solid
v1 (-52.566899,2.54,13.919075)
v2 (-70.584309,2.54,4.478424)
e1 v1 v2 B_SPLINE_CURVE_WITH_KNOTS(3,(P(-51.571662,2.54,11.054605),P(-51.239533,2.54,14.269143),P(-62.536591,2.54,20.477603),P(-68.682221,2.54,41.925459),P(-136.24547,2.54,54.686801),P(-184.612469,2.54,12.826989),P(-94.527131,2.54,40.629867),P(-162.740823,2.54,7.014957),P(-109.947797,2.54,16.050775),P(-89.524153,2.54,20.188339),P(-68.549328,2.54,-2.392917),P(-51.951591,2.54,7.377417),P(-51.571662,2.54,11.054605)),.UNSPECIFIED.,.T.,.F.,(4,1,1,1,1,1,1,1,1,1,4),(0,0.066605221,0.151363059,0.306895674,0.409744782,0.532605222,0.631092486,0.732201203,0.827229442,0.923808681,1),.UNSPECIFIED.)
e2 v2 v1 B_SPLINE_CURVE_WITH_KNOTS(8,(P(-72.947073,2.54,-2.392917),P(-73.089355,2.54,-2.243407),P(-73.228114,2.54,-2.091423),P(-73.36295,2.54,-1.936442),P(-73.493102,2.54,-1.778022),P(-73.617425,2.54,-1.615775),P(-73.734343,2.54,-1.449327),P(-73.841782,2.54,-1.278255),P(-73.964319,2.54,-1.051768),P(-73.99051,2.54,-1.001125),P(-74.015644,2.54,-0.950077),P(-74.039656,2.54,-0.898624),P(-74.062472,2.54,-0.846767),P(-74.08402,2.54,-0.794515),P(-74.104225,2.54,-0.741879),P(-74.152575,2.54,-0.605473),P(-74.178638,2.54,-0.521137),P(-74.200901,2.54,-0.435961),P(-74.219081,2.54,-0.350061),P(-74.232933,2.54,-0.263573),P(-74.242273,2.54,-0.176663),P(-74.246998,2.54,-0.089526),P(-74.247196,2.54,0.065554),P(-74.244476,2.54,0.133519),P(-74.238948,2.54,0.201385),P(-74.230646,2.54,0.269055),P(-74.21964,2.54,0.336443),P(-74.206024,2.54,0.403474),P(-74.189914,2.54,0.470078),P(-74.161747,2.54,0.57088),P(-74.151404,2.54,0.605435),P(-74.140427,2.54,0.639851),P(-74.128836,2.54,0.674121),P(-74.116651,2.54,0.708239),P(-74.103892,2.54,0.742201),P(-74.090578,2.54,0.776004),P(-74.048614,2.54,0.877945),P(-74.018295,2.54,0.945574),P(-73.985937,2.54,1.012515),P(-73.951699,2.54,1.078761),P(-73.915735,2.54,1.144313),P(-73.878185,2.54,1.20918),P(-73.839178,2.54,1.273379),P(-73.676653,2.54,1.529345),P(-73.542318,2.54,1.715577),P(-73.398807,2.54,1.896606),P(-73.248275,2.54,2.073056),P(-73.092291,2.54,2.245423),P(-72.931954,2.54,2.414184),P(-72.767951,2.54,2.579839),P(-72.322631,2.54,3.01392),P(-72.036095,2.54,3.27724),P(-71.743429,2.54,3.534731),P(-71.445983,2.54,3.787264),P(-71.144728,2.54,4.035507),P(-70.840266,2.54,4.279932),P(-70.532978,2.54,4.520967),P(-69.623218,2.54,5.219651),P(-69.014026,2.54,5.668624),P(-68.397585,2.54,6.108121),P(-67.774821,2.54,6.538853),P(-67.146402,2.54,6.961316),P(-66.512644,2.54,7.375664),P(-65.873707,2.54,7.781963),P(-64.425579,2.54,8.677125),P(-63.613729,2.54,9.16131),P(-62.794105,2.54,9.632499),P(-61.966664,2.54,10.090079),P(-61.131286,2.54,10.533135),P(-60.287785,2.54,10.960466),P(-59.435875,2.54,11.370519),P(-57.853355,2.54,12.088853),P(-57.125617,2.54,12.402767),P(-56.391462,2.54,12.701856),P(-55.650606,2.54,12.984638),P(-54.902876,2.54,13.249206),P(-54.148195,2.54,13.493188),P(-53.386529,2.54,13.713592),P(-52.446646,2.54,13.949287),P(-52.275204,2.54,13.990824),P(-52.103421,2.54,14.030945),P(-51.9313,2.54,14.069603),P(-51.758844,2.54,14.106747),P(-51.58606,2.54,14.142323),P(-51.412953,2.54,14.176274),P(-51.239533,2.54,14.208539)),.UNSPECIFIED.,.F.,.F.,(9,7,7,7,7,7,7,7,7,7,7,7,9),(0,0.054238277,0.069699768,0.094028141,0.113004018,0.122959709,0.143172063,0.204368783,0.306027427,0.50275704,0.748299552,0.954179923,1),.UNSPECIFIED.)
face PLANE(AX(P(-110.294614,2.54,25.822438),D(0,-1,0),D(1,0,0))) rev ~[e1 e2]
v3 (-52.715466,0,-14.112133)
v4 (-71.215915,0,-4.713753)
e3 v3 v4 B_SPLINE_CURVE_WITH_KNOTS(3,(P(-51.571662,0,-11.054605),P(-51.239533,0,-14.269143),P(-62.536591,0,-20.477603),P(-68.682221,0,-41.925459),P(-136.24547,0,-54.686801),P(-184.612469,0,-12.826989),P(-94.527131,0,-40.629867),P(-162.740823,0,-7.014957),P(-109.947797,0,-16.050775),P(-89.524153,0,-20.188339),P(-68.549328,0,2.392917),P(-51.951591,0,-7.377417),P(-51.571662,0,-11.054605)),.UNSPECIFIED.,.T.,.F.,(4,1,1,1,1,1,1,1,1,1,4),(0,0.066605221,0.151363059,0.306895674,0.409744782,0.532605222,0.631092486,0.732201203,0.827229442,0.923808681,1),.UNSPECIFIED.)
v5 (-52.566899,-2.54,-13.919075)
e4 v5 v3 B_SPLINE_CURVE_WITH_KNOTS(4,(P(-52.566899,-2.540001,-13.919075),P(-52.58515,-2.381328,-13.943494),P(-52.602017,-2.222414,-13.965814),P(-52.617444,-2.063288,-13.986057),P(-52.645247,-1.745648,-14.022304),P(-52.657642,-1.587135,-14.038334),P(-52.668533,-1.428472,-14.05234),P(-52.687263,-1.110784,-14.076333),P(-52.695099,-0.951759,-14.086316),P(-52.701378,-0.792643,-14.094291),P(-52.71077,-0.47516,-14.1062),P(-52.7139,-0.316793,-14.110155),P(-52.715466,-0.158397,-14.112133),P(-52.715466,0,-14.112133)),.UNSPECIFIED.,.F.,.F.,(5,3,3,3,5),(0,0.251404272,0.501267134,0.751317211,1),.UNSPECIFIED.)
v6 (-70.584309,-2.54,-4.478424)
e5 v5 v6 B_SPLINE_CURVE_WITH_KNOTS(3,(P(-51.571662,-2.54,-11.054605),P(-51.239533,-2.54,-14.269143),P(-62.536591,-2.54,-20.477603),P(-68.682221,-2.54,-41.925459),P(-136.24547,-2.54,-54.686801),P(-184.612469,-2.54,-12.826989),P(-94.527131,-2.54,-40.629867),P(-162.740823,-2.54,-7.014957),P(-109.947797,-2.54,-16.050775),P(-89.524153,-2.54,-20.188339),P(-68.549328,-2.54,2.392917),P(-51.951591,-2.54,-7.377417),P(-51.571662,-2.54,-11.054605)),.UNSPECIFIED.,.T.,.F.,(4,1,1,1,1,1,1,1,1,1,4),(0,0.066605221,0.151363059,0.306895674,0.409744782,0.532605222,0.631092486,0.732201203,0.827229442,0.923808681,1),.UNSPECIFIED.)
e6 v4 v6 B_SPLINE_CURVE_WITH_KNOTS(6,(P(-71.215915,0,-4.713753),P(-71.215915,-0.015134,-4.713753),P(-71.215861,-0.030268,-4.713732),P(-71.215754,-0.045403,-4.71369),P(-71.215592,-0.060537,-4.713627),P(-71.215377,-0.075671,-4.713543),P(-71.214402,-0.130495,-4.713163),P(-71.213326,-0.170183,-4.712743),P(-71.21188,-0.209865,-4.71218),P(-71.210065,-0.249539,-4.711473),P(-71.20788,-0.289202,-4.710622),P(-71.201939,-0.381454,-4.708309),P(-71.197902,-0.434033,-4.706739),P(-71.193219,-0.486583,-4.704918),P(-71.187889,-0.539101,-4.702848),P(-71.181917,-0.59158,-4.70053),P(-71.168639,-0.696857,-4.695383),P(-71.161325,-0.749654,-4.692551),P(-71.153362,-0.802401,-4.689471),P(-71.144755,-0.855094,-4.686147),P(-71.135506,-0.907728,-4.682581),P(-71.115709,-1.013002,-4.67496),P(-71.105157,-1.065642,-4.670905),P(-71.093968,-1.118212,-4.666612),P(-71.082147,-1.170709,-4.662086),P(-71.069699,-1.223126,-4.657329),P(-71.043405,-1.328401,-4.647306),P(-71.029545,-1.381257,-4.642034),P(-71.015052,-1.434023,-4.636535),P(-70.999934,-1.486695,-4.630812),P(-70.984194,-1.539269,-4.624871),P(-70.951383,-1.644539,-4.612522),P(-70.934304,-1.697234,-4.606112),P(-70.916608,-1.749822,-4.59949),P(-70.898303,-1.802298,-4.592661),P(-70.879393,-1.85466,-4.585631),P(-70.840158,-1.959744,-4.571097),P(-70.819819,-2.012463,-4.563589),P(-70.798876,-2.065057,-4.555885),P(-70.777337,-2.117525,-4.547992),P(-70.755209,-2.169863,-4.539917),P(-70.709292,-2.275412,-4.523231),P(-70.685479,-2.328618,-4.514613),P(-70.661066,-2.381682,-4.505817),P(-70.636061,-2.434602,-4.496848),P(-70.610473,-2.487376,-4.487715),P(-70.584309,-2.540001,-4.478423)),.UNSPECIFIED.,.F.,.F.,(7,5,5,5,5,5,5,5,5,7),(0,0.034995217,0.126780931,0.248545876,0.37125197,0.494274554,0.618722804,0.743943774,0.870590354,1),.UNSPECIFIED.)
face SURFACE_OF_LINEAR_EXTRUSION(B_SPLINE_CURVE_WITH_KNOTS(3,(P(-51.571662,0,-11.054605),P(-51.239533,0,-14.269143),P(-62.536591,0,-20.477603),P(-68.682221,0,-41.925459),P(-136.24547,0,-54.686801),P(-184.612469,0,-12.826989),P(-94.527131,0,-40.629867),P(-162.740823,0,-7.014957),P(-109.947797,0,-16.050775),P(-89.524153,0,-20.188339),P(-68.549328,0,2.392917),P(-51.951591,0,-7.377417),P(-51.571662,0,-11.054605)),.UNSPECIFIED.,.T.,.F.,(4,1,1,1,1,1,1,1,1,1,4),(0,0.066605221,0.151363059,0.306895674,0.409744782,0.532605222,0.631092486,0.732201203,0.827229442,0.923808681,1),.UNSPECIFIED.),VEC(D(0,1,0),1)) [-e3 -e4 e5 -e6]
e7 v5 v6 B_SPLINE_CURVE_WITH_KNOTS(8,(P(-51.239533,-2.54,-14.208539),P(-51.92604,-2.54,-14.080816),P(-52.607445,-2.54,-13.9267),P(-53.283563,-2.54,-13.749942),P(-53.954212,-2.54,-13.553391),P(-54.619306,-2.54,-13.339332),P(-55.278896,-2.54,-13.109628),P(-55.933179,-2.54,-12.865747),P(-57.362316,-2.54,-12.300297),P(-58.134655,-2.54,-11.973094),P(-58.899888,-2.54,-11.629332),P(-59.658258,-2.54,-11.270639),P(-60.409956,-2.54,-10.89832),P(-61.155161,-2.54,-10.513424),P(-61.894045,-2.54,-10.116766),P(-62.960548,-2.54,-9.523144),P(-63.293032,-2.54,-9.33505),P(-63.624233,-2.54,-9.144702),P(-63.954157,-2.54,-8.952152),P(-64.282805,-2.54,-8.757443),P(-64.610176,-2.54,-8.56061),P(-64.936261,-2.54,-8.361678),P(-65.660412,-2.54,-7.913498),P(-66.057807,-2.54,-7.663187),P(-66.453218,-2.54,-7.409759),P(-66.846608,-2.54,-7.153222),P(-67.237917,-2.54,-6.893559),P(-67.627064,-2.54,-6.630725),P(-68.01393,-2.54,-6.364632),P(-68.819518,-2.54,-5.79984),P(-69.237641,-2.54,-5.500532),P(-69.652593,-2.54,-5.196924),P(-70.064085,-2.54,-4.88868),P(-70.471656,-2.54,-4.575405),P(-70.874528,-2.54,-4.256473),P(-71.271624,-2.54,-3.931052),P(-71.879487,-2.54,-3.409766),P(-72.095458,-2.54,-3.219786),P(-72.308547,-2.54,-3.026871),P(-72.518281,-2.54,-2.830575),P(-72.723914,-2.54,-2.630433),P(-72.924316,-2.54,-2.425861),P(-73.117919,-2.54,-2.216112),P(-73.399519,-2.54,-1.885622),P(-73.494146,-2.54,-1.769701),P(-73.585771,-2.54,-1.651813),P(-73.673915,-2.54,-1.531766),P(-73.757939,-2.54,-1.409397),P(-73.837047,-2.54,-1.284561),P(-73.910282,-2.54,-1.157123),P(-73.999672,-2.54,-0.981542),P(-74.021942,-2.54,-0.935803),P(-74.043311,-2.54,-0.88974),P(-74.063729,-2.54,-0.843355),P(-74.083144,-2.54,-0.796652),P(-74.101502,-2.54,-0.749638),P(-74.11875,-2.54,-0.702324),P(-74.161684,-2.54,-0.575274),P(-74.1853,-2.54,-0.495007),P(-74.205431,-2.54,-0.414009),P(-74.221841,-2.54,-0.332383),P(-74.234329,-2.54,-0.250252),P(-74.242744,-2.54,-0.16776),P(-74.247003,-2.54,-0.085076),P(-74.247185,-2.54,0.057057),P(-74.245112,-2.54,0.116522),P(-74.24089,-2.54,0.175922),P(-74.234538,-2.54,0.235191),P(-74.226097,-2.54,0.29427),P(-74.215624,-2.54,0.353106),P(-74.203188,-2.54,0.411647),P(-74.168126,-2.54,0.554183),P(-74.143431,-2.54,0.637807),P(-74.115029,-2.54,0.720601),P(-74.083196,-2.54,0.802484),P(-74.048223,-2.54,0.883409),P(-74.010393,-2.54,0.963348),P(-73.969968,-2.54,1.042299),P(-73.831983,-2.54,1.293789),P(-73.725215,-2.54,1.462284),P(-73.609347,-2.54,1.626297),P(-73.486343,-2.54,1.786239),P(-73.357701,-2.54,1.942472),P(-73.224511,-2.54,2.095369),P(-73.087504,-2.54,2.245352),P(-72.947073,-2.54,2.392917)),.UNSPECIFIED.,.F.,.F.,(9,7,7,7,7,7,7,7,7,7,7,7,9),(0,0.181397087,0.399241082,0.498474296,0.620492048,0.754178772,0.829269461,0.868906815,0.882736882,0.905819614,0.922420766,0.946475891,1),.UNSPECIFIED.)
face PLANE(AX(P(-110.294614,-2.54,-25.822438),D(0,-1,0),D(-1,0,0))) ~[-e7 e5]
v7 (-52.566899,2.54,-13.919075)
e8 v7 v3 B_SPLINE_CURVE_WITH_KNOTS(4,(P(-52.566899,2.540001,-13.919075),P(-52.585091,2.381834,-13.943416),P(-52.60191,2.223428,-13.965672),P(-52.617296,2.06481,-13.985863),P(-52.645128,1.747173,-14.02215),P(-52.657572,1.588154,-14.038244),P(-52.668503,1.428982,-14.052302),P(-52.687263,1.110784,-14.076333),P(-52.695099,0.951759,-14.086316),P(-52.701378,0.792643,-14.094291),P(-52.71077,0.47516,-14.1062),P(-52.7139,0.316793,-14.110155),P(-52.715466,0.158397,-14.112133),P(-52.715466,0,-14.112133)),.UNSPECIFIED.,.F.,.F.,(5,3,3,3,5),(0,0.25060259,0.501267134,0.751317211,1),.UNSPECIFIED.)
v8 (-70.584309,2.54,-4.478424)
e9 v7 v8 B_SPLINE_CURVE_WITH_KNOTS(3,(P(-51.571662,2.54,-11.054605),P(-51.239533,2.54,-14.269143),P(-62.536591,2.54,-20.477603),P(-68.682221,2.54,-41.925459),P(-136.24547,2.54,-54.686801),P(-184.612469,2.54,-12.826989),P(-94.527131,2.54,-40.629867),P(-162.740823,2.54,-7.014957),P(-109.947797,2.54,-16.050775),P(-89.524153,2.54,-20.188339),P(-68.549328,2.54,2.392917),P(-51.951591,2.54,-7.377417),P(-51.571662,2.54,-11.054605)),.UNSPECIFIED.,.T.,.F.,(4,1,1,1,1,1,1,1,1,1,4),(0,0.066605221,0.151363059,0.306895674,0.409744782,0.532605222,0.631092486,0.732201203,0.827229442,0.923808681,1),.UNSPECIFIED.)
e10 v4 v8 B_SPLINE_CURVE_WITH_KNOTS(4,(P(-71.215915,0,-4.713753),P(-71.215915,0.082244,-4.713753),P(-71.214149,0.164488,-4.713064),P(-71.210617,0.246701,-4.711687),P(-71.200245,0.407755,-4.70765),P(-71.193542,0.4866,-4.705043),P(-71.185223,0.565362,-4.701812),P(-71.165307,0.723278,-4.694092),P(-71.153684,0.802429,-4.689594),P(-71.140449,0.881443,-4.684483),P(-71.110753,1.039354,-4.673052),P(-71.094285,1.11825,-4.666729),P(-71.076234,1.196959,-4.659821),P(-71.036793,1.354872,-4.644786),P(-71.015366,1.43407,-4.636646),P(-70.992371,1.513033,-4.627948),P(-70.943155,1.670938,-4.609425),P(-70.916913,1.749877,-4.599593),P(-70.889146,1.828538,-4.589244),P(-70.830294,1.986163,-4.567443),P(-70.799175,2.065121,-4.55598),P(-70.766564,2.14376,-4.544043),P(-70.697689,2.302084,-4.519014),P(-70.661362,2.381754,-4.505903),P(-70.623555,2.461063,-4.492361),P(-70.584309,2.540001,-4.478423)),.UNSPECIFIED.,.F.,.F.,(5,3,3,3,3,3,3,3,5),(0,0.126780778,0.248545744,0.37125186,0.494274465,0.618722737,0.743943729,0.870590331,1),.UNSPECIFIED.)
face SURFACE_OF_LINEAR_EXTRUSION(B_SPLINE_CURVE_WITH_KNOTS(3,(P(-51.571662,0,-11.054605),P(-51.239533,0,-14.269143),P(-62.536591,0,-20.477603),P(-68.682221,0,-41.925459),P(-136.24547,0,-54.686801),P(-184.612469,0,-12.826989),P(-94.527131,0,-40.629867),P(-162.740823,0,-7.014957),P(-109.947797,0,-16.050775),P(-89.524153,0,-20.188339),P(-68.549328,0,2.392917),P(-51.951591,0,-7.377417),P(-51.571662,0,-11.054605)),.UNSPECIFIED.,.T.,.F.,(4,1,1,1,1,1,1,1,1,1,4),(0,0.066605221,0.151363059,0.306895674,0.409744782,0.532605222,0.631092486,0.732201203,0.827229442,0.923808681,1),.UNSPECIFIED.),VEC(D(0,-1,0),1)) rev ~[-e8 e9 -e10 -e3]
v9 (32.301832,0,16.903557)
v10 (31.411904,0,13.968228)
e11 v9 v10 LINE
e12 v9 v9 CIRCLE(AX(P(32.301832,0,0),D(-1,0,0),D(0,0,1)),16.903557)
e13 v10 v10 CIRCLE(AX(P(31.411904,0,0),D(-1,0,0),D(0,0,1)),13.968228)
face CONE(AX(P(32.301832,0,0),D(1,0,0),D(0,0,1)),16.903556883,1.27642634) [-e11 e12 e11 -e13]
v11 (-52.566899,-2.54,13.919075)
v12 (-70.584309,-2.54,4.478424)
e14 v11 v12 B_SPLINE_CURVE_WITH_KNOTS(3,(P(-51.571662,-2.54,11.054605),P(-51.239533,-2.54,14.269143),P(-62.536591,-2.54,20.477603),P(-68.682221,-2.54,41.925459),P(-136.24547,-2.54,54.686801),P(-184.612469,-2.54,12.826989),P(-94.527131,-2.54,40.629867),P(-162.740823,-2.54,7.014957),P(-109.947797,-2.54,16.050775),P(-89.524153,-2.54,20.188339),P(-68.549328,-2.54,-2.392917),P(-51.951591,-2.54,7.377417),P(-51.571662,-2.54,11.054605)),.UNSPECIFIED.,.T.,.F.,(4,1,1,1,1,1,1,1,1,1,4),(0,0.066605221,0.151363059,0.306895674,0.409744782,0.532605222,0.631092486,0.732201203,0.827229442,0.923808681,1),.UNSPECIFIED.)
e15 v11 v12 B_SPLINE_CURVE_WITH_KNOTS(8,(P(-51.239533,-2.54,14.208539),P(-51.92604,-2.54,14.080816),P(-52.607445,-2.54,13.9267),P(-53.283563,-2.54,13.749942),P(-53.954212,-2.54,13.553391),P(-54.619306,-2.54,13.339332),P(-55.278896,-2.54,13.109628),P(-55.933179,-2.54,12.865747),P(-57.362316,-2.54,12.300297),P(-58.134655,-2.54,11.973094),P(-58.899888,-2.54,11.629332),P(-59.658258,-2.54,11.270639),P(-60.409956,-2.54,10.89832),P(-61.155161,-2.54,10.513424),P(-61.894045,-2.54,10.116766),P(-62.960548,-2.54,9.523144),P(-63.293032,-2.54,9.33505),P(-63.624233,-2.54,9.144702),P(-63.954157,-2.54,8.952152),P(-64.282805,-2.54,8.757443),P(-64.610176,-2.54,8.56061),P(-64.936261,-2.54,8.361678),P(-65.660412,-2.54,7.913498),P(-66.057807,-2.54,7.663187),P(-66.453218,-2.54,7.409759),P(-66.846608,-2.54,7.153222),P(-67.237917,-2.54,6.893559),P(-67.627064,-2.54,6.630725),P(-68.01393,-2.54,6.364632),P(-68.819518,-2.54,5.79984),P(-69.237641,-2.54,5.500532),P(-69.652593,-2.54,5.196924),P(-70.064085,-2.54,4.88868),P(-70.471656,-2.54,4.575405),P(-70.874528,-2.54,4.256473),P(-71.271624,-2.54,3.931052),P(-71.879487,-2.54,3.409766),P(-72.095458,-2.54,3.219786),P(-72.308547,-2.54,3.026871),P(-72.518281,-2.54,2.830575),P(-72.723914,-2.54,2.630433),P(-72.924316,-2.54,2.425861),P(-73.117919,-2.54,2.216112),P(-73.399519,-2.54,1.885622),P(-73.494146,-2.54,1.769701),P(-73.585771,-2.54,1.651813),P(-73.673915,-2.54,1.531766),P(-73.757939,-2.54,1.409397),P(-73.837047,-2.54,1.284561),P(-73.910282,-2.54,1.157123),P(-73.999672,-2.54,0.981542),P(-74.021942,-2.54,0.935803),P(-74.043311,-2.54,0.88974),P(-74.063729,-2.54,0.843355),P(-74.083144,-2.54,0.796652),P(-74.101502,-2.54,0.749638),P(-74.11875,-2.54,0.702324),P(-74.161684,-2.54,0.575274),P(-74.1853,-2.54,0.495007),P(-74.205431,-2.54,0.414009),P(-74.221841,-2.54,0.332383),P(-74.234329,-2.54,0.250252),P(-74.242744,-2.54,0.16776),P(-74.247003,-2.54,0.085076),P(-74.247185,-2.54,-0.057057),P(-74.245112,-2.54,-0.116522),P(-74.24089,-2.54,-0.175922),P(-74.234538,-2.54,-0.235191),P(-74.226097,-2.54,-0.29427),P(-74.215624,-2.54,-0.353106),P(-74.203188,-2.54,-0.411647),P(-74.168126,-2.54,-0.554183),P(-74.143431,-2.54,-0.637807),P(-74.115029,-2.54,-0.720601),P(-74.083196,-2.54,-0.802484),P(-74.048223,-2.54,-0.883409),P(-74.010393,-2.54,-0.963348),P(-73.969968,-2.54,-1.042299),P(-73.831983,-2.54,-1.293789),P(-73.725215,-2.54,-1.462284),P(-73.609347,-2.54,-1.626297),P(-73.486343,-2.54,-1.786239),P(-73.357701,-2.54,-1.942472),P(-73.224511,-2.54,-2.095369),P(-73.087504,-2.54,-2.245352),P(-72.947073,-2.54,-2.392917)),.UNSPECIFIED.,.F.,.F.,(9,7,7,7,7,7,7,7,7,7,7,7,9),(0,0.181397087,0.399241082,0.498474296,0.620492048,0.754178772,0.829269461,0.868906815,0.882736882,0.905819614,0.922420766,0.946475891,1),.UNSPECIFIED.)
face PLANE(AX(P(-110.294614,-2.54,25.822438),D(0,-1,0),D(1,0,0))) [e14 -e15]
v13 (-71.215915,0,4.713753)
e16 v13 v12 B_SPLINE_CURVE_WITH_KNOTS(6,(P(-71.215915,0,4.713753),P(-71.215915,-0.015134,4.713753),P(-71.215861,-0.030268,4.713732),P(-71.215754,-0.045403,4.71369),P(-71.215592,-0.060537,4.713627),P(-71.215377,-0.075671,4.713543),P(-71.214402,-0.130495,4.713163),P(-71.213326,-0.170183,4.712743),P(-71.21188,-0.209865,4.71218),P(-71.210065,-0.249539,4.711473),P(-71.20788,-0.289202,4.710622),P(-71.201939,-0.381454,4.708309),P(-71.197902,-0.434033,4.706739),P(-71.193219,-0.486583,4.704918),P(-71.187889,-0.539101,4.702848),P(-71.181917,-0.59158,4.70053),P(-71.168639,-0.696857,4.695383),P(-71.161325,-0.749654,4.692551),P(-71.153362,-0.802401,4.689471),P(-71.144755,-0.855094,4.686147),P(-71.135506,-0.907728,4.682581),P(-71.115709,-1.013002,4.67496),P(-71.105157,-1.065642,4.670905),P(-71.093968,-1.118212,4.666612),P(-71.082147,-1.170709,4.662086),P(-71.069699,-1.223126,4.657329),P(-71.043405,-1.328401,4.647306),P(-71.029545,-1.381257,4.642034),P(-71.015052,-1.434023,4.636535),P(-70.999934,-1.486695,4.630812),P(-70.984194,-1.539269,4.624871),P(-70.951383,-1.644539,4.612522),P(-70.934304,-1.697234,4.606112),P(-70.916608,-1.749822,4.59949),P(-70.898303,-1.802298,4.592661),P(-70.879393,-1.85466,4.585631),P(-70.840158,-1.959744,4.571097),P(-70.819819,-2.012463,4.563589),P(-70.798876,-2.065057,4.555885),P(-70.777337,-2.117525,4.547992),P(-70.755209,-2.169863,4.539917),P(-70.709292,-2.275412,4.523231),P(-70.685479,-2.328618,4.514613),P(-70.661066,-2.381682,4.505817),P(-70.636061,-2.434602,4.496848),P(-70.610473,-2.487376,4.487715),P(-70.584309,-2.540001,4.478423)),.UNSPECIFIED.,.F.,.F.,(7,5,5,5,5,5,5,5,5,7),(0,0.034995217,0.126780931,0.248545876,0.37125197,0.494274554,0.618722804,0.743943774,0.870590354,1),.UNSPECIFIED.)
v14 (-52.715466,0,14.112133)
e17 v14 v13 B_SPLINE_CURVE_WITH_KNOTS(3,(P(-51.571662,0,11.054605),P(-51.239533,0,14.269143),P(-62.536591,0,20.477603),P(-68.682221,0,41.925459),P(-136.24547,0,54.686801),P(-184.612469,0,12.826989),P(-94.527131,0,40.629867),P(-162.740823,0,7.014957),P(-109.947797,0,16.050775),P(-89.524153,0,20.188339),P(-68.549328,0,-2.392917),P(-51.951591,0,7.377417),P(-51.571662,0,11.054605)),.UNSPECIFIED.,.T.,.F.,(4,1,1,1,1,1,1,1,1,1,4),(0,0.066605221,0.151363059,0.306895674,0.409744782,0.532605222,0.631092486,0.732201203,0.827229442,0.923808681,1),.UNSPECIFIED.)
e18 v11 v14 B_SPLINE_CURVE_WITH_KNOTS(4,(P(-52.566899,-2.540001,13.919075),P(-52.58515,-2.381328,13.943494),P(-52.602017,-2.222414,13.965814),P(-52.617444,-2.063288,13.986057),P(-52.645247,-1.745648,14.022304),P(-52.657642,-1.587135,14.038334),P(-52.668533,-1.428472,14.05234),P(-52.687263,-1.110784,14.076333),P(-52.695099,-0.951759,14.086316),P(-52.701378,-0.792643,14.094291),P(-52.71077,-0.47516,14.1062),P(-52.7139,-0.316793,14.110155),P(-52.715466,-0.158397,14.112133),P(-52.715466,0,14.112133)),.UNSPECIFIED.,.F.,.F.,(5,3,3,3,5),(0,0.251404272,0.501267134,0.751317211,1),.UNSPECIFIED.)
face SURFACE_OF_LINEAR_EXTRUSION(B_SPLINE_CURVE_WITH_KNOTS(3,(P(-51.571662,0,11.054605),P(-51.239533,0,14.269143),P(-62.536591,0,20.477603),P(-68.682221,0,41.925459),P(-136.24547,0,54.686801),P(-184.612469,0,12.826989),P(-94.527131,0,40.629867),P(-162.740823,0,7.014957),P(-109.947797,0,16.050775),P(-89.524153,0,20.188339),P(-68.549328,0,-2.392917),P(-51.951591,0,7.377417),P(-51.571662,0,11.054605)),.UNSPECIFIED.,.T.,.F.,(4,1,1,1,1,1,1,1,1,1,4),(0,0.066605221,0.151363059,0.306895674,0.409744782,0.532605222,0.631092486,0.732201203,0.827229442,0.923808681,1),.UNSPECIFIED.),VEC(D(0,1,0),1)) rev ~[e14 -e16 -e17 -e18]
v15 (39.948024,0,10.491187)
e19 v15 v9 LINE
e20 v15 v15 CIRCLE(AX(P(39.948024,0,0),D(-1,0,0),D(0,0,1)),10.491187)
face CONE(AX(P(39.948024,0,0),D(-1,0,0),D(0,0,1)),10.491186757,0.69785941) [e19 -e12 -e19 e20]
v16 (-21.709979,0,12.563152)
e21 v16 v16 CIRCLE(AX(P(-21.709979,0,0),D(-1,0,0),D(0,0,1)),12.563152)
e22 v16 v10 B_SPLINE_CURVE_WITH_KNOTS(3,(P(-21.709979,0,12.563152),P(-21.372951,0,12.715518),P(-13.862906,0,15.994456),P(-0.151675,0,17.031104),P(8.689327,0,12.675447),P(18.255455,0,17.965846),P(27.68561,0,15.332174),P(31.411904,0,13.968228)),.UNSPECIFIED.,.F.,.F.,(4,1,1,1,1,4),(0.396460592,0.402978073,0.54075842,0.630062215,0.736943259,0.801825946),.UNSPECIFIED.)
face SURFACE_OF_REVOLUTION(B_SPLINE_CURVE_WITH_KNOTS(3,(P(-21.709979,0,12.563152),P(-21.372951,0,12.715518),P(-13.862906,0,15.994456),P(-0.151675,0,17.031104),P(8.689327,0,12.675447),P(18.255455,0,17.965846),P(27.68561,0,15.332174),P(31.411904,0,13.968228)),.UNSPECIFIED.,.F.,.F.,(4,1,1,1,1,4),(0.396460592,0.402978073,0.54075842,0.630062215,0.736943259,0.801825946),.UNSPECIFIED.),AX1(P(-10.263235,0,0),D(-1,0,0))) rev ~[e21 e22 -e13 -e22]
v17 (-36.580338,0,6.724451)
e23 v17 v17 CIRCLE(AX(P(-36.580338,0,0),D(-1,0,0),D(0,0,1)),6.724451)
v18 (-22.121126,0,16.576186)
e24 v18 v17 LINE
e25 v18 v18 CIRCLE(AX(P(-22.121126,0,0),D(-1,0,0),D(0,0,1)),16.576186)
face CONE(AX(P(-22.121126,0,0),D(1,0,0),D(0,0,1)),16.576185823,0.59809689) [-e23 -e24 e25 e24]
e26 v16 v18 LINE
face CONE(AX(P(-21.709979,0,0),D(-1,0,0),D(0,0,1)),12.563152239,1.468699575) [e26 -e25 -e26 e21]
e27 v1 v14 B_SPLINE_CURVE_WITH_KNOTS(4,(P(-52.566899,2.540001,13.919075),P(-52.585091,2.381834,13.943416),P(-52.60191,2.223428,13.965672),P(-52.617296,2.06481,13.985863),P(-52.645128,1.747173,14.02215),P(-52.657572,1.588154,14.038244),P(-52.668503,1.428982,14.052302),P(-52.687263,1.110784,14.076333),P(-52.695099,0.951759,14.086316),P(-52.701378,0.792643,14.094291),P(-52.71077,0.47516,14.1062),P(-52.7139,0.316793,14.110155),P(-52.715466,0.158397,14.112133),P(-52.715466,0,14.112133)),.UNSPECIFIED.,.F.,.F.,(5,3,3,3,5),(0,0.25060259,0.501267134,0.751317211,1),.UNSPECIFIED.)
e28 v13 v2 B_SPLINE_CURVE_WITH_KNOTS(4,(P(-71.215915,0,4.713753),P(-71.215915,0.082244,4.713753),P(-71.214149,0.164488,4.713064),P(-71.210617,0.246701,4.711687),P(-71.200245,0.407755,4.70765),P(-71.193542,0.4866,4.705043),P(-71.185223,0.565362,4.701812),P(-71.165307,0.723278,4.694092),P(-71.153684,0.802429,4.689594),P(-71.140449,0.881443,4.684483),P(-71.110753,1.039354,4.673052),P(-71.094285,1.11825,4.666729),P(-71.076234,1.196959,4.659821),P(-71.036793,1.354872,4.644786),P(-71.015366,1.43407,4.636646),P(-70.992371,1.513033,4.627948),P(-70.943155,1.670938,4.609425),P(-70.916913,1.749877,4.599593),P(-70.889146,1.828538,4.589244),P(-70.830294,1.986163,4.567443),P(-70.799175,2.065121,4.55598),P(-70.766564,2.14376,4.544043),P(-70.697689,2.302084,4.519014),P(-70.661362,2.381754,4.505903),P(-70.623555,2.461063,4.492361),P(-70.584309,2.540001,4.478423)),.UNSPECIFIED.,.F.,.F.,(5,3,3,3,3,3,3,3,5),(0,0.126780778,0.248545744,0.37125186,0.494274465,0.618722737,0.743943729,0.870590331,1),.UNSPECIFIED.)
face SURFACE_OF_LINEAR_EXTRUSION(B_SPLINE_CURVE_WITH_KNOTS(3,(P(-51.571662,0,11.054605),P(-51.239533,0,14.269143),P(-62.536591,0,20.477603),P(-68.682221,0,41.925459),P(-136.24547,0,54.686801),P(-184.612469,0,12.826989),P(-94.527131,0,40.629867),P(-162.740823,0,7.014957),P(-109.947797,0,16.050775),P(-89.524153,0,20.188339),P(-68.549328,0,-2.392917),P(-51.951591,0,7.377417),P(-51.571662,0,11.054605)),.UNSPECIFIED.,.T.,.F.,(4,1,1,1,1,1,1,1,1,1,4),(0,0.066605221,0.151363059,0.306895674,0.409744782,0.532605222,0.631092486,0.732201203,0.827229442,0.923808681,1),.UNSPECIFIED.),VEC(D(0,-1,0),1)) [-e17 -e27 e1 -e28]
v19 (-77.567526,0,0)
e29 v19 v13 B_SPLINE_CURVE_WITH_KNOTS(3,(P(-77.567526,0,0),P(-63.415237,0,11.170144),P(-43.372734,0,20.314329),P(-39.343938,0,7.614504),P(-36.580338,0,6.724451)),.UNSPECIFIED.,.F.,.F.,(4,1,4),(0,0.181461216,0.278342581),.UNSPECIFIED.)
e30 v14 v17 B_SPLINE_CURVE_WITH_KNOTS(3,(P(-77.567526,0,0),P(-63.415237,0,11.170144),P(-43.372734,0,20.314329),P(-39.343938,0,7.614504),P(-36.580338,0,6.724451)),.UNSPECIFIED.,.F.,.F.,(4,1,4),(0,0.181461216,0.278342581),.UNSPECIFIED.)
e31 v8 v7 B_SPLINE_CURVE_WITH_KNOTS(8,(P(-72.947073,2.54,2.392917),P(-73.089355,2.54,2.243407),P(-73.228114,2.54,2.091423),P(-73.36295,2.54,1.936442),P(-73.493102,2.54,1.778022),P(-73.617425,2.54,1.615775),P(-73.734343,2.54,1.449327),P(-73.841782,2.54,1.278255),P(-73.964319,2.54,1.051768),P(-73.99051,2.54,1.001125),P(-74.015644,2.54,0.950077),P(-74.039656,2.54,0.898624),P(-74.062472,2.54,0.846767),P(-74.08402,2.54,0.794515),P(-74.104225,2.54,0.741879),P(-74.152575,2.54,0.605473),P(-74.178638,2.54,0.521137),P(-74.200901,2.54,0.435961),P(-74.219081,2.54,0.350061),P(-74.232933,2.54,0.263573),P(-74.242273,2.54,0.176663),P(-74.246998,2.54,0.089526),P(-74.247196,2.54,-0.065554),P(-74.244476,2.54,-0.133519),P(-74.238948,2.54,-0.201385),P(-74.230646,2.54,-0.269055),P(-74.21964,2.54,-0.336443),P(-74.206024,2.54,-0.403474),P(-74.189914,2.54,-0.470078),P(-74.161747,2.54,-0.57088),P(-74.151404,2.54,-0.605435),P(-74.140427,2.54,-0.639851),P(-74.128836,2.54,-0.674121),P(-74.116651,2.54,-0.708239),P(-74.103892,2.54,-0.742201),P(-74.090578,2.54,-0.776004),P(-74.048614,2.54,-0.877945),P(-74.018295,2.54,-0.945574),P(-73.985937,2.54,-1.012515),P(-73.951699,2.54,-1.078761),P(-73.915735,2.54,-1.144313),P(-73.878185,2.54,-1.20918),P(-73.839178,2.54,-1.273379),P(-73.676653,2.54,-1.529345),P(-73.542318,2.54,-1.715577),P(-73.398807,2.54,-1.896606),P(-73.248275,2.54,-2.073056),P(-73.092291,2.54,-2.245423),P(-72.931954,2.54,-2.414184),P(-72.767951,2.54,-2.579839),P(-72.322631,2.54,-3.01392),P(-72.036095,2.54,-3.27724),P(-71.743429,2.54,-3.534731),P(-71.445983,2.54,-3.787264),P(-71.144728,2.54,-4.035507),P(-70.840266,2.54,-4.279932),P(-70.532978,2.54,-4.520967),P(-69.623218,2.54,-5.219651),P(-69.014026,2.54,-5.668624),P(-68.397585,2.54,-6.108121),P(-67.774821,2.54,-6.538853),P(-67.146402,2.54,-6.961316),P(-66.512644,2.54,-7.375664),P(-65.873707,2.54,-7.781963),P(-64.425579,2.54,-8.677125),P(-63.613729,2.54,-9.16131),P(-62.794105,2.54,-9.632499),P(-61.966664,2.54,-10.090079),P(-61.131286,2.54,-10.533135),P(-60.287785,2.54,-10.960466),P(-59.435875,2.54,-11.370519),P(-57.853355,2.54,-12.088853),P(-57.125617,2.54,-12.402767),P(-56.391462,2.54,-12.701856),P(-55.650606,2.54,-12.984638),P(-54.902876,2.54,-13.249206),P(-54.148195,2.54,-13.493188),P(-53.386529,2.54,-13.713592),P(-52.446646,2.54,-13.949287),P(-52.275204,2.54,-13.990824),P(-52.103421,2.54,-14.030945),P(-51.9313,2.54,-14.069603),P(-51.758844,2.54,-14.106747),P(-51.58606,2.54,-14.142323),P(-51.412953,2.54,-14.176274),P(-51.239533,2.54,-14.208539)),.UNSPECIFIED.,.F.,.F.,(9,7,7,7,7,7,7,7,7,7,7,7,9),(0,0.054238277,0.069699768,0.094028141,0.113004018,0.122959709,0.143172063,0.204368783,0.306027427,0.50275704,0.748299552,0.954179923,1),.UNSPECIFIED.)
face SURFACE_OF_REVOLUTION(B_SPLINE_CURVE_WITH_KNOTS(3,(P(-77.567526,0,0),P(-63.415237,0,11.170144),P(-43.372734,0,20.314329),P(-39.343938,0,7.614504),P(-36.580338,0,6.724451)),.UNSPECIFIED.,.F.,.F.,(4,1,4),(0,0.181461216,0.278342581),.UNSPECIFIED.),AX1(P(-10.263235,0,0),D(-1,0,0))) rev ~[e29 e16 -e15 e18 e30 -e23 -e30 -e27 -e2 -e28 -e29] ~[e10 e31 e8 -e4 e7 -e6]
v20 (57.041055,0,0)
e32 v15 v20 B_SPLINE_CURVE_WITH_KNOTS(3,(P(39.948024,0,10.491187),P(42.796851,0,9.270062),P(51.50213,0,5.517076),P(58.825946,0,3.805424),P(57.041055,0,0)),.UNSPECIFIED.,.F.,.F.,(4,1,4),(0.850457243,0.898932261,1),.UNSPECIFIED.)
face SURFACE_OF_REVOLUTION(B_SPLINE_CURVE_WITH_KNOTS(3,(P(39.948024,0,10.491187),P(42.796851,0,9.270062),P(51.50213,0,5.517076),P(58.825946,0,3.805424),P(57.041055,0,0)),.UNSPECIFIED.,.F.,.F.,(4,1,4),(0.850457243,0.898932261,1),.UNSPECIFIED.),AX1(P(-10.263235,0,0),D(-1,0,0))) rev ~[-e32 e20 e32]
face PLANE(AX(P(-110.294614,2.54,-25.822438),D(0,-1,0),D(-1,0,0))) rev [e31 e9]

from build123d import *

# Parameters (mm, degrees)
F3_DEPTH = 2.54


with BuildPart() as f1:
    # F0 (on Front) → F1 (revolve)
    with BuildSketch(Plane.XZ):
        with BuildLine():
            add(Edge.make_bspline(
                [(-77.5675256871, 0), (-63.4152374182, 11.1701438405), (-43.37273372, 20.3143294183), (-39.343937899, 7.6145036578), (-36.5803375648, 6.7244512145)],
                knots=[0, 0, 0, 0, 0.1814612156, 0.2783425807, 0.2783425807, 0.2783425807, 0.2783425807], degree=3))
            Line((-77.5675256871, 0), (57.041055336, 0))
            add(Edge.make_bspline(
                [(39.9480243741, 10.4911867571), (42.7968509392, 9.2700623919), (51.5021298161, 5.5170760774), (58.825946027, 3.8054239044), (57.041055336, 0)],
                knots=[0.8504572427, 0.8504572427, 0.8504572427, 0.8504572427, 0.8989322607, 1, 1, 1, 1], degree=3))
            add(Edge.make_bspline(
                [(31.4119042796, 13.9682277254), (34.2048607411, 12.9459140276), (37.0900135037, 11.7162478937), (39.9480243741, 10.4911867571)],
                knots=[0.8018259464, 0.8018259464, 0.8018259464, 0.8018259464, 0.8504572427, 0.8504572427, 0.8504572427, 0.8504572427], degree=3))
            add(Edge.make_bspline(
                [(-21.7099785805, 12.5631522387), (-21.3729506111, 12.715517507), (-13.8629061019, 15.9944555623), (-0.1516746015, 17.0311044106), (8.6893269388, 12.6754474241), (18.2554553588, 17.9658463257), (27.6856100225, 15.332173678), (31.4119042796, 13.9682277254)],
                knots=[0.396460592, 0.396460592, 0.396460592, 0.396460592, 0.4029780734, 0.5407584197, 0.630062215, 0.7369432594, 0.8018259464, 0.8018259464, 0.8018259464, 0.8018259464], degree=3))
            add(Edge.make_bspline(
                [(-36.5803375648, 6.7244512145), (-33.2109488755, 5.6392969691), (-27.81802419, 9.8017968249), (-21.7099785805, 12.5631522387)],
                knots=[0.2783425807, 0.2783425807, 0.2783425807, 0.2783425807, 0.396460592, 0.396460592, 0.396460592, 0.396460592], degree=3))
        make_face()
        with BuildLine():
            add(Edge.make_bspline(
                [(31.4119042796, 13.9682277254), (34.2048607411, 12.9459140276), (37.0900135037, 11.7162478937), (39.9480243741, 10.4911867571)],
                knots=[0.8018259464, 0.8018259464, 0.8018259464, 0.8018259464, 0.8504572427, 0.8504572427, 0.8504572427, 0.8504572427], degree=3))
            Line((39.9480243741, 10.4911867571), (32.3018319905, 16.9035568833))
            Line((32.3018319905, 16.9035568833), (31.4119042796, 13.9682277254))
        make_face()
        with BuildLine():
            Line((-22.1211258322, 16.5761858225), (-36.5803375648, 6.7244512145))
            add(Edge.make_bspline(
                [(-36.5803375648, 6.7244512145), (-33.2109488755, 5.6392969691), (-27.81802419, 9.8017968249), (-21.7099785805, 12.5631522387)],
                knots=[0.2783425807, 0.2783425807, 0.2783425807, 0.2783425807, 0.396460592, 0.396460592, 0.396460592, 0.396460592], degree=3))
            Line((-21.7099785805, 12.5631522387), (-22.1211258322, 16.5761858225))
        make_face()
    revolve(axis=Axis((-10.2632351756, 0, 0), (-1, 0, 0)))

    # F2 (on Front) → F3 (join, symmetric)
    with BuildSketch(Plane.XZ):
        with BuildLine():
            add(Edge.make_bspline(
                [(-51.5716615501, 11.0546047416), (-51.2395329882, 14.2691431328), (-62.5365913027, 20.4776030568), (-68.6822211312, 41.9254594025), (-136.2454697329, 54.6868009311), (-184.6124686042, 12.8269893008), (-94.5271313261, 40.6298669905), (-162.740823387, 7.0149568031), (-109.9477969439, 16.0507745206), (-89.524152607, 20.1883387232), (-68.5493277382, -2.3929168268), (-51.9515914197, 7.3774167722), (-51.5716615501, 11.0546047416)],
                knots=[0, 0, 0, 0, 0.0666052213, 0.1513630593, 0.3068956744, 0.4097447817, 0.5326052224, 0.6310924857, 0.7322012035, 0.8272294422, 0.9238086815, 1, 1, 1, 1], degree=3))
        make_face()
    extrude(amount=F3_DEPTH, both=True)

    # F4: F1 across plane


with BuildPart() as f1_1:
    add(f1.part)
    add(f1.part.mirror(Plane.XY))


solid = f1_1.part
